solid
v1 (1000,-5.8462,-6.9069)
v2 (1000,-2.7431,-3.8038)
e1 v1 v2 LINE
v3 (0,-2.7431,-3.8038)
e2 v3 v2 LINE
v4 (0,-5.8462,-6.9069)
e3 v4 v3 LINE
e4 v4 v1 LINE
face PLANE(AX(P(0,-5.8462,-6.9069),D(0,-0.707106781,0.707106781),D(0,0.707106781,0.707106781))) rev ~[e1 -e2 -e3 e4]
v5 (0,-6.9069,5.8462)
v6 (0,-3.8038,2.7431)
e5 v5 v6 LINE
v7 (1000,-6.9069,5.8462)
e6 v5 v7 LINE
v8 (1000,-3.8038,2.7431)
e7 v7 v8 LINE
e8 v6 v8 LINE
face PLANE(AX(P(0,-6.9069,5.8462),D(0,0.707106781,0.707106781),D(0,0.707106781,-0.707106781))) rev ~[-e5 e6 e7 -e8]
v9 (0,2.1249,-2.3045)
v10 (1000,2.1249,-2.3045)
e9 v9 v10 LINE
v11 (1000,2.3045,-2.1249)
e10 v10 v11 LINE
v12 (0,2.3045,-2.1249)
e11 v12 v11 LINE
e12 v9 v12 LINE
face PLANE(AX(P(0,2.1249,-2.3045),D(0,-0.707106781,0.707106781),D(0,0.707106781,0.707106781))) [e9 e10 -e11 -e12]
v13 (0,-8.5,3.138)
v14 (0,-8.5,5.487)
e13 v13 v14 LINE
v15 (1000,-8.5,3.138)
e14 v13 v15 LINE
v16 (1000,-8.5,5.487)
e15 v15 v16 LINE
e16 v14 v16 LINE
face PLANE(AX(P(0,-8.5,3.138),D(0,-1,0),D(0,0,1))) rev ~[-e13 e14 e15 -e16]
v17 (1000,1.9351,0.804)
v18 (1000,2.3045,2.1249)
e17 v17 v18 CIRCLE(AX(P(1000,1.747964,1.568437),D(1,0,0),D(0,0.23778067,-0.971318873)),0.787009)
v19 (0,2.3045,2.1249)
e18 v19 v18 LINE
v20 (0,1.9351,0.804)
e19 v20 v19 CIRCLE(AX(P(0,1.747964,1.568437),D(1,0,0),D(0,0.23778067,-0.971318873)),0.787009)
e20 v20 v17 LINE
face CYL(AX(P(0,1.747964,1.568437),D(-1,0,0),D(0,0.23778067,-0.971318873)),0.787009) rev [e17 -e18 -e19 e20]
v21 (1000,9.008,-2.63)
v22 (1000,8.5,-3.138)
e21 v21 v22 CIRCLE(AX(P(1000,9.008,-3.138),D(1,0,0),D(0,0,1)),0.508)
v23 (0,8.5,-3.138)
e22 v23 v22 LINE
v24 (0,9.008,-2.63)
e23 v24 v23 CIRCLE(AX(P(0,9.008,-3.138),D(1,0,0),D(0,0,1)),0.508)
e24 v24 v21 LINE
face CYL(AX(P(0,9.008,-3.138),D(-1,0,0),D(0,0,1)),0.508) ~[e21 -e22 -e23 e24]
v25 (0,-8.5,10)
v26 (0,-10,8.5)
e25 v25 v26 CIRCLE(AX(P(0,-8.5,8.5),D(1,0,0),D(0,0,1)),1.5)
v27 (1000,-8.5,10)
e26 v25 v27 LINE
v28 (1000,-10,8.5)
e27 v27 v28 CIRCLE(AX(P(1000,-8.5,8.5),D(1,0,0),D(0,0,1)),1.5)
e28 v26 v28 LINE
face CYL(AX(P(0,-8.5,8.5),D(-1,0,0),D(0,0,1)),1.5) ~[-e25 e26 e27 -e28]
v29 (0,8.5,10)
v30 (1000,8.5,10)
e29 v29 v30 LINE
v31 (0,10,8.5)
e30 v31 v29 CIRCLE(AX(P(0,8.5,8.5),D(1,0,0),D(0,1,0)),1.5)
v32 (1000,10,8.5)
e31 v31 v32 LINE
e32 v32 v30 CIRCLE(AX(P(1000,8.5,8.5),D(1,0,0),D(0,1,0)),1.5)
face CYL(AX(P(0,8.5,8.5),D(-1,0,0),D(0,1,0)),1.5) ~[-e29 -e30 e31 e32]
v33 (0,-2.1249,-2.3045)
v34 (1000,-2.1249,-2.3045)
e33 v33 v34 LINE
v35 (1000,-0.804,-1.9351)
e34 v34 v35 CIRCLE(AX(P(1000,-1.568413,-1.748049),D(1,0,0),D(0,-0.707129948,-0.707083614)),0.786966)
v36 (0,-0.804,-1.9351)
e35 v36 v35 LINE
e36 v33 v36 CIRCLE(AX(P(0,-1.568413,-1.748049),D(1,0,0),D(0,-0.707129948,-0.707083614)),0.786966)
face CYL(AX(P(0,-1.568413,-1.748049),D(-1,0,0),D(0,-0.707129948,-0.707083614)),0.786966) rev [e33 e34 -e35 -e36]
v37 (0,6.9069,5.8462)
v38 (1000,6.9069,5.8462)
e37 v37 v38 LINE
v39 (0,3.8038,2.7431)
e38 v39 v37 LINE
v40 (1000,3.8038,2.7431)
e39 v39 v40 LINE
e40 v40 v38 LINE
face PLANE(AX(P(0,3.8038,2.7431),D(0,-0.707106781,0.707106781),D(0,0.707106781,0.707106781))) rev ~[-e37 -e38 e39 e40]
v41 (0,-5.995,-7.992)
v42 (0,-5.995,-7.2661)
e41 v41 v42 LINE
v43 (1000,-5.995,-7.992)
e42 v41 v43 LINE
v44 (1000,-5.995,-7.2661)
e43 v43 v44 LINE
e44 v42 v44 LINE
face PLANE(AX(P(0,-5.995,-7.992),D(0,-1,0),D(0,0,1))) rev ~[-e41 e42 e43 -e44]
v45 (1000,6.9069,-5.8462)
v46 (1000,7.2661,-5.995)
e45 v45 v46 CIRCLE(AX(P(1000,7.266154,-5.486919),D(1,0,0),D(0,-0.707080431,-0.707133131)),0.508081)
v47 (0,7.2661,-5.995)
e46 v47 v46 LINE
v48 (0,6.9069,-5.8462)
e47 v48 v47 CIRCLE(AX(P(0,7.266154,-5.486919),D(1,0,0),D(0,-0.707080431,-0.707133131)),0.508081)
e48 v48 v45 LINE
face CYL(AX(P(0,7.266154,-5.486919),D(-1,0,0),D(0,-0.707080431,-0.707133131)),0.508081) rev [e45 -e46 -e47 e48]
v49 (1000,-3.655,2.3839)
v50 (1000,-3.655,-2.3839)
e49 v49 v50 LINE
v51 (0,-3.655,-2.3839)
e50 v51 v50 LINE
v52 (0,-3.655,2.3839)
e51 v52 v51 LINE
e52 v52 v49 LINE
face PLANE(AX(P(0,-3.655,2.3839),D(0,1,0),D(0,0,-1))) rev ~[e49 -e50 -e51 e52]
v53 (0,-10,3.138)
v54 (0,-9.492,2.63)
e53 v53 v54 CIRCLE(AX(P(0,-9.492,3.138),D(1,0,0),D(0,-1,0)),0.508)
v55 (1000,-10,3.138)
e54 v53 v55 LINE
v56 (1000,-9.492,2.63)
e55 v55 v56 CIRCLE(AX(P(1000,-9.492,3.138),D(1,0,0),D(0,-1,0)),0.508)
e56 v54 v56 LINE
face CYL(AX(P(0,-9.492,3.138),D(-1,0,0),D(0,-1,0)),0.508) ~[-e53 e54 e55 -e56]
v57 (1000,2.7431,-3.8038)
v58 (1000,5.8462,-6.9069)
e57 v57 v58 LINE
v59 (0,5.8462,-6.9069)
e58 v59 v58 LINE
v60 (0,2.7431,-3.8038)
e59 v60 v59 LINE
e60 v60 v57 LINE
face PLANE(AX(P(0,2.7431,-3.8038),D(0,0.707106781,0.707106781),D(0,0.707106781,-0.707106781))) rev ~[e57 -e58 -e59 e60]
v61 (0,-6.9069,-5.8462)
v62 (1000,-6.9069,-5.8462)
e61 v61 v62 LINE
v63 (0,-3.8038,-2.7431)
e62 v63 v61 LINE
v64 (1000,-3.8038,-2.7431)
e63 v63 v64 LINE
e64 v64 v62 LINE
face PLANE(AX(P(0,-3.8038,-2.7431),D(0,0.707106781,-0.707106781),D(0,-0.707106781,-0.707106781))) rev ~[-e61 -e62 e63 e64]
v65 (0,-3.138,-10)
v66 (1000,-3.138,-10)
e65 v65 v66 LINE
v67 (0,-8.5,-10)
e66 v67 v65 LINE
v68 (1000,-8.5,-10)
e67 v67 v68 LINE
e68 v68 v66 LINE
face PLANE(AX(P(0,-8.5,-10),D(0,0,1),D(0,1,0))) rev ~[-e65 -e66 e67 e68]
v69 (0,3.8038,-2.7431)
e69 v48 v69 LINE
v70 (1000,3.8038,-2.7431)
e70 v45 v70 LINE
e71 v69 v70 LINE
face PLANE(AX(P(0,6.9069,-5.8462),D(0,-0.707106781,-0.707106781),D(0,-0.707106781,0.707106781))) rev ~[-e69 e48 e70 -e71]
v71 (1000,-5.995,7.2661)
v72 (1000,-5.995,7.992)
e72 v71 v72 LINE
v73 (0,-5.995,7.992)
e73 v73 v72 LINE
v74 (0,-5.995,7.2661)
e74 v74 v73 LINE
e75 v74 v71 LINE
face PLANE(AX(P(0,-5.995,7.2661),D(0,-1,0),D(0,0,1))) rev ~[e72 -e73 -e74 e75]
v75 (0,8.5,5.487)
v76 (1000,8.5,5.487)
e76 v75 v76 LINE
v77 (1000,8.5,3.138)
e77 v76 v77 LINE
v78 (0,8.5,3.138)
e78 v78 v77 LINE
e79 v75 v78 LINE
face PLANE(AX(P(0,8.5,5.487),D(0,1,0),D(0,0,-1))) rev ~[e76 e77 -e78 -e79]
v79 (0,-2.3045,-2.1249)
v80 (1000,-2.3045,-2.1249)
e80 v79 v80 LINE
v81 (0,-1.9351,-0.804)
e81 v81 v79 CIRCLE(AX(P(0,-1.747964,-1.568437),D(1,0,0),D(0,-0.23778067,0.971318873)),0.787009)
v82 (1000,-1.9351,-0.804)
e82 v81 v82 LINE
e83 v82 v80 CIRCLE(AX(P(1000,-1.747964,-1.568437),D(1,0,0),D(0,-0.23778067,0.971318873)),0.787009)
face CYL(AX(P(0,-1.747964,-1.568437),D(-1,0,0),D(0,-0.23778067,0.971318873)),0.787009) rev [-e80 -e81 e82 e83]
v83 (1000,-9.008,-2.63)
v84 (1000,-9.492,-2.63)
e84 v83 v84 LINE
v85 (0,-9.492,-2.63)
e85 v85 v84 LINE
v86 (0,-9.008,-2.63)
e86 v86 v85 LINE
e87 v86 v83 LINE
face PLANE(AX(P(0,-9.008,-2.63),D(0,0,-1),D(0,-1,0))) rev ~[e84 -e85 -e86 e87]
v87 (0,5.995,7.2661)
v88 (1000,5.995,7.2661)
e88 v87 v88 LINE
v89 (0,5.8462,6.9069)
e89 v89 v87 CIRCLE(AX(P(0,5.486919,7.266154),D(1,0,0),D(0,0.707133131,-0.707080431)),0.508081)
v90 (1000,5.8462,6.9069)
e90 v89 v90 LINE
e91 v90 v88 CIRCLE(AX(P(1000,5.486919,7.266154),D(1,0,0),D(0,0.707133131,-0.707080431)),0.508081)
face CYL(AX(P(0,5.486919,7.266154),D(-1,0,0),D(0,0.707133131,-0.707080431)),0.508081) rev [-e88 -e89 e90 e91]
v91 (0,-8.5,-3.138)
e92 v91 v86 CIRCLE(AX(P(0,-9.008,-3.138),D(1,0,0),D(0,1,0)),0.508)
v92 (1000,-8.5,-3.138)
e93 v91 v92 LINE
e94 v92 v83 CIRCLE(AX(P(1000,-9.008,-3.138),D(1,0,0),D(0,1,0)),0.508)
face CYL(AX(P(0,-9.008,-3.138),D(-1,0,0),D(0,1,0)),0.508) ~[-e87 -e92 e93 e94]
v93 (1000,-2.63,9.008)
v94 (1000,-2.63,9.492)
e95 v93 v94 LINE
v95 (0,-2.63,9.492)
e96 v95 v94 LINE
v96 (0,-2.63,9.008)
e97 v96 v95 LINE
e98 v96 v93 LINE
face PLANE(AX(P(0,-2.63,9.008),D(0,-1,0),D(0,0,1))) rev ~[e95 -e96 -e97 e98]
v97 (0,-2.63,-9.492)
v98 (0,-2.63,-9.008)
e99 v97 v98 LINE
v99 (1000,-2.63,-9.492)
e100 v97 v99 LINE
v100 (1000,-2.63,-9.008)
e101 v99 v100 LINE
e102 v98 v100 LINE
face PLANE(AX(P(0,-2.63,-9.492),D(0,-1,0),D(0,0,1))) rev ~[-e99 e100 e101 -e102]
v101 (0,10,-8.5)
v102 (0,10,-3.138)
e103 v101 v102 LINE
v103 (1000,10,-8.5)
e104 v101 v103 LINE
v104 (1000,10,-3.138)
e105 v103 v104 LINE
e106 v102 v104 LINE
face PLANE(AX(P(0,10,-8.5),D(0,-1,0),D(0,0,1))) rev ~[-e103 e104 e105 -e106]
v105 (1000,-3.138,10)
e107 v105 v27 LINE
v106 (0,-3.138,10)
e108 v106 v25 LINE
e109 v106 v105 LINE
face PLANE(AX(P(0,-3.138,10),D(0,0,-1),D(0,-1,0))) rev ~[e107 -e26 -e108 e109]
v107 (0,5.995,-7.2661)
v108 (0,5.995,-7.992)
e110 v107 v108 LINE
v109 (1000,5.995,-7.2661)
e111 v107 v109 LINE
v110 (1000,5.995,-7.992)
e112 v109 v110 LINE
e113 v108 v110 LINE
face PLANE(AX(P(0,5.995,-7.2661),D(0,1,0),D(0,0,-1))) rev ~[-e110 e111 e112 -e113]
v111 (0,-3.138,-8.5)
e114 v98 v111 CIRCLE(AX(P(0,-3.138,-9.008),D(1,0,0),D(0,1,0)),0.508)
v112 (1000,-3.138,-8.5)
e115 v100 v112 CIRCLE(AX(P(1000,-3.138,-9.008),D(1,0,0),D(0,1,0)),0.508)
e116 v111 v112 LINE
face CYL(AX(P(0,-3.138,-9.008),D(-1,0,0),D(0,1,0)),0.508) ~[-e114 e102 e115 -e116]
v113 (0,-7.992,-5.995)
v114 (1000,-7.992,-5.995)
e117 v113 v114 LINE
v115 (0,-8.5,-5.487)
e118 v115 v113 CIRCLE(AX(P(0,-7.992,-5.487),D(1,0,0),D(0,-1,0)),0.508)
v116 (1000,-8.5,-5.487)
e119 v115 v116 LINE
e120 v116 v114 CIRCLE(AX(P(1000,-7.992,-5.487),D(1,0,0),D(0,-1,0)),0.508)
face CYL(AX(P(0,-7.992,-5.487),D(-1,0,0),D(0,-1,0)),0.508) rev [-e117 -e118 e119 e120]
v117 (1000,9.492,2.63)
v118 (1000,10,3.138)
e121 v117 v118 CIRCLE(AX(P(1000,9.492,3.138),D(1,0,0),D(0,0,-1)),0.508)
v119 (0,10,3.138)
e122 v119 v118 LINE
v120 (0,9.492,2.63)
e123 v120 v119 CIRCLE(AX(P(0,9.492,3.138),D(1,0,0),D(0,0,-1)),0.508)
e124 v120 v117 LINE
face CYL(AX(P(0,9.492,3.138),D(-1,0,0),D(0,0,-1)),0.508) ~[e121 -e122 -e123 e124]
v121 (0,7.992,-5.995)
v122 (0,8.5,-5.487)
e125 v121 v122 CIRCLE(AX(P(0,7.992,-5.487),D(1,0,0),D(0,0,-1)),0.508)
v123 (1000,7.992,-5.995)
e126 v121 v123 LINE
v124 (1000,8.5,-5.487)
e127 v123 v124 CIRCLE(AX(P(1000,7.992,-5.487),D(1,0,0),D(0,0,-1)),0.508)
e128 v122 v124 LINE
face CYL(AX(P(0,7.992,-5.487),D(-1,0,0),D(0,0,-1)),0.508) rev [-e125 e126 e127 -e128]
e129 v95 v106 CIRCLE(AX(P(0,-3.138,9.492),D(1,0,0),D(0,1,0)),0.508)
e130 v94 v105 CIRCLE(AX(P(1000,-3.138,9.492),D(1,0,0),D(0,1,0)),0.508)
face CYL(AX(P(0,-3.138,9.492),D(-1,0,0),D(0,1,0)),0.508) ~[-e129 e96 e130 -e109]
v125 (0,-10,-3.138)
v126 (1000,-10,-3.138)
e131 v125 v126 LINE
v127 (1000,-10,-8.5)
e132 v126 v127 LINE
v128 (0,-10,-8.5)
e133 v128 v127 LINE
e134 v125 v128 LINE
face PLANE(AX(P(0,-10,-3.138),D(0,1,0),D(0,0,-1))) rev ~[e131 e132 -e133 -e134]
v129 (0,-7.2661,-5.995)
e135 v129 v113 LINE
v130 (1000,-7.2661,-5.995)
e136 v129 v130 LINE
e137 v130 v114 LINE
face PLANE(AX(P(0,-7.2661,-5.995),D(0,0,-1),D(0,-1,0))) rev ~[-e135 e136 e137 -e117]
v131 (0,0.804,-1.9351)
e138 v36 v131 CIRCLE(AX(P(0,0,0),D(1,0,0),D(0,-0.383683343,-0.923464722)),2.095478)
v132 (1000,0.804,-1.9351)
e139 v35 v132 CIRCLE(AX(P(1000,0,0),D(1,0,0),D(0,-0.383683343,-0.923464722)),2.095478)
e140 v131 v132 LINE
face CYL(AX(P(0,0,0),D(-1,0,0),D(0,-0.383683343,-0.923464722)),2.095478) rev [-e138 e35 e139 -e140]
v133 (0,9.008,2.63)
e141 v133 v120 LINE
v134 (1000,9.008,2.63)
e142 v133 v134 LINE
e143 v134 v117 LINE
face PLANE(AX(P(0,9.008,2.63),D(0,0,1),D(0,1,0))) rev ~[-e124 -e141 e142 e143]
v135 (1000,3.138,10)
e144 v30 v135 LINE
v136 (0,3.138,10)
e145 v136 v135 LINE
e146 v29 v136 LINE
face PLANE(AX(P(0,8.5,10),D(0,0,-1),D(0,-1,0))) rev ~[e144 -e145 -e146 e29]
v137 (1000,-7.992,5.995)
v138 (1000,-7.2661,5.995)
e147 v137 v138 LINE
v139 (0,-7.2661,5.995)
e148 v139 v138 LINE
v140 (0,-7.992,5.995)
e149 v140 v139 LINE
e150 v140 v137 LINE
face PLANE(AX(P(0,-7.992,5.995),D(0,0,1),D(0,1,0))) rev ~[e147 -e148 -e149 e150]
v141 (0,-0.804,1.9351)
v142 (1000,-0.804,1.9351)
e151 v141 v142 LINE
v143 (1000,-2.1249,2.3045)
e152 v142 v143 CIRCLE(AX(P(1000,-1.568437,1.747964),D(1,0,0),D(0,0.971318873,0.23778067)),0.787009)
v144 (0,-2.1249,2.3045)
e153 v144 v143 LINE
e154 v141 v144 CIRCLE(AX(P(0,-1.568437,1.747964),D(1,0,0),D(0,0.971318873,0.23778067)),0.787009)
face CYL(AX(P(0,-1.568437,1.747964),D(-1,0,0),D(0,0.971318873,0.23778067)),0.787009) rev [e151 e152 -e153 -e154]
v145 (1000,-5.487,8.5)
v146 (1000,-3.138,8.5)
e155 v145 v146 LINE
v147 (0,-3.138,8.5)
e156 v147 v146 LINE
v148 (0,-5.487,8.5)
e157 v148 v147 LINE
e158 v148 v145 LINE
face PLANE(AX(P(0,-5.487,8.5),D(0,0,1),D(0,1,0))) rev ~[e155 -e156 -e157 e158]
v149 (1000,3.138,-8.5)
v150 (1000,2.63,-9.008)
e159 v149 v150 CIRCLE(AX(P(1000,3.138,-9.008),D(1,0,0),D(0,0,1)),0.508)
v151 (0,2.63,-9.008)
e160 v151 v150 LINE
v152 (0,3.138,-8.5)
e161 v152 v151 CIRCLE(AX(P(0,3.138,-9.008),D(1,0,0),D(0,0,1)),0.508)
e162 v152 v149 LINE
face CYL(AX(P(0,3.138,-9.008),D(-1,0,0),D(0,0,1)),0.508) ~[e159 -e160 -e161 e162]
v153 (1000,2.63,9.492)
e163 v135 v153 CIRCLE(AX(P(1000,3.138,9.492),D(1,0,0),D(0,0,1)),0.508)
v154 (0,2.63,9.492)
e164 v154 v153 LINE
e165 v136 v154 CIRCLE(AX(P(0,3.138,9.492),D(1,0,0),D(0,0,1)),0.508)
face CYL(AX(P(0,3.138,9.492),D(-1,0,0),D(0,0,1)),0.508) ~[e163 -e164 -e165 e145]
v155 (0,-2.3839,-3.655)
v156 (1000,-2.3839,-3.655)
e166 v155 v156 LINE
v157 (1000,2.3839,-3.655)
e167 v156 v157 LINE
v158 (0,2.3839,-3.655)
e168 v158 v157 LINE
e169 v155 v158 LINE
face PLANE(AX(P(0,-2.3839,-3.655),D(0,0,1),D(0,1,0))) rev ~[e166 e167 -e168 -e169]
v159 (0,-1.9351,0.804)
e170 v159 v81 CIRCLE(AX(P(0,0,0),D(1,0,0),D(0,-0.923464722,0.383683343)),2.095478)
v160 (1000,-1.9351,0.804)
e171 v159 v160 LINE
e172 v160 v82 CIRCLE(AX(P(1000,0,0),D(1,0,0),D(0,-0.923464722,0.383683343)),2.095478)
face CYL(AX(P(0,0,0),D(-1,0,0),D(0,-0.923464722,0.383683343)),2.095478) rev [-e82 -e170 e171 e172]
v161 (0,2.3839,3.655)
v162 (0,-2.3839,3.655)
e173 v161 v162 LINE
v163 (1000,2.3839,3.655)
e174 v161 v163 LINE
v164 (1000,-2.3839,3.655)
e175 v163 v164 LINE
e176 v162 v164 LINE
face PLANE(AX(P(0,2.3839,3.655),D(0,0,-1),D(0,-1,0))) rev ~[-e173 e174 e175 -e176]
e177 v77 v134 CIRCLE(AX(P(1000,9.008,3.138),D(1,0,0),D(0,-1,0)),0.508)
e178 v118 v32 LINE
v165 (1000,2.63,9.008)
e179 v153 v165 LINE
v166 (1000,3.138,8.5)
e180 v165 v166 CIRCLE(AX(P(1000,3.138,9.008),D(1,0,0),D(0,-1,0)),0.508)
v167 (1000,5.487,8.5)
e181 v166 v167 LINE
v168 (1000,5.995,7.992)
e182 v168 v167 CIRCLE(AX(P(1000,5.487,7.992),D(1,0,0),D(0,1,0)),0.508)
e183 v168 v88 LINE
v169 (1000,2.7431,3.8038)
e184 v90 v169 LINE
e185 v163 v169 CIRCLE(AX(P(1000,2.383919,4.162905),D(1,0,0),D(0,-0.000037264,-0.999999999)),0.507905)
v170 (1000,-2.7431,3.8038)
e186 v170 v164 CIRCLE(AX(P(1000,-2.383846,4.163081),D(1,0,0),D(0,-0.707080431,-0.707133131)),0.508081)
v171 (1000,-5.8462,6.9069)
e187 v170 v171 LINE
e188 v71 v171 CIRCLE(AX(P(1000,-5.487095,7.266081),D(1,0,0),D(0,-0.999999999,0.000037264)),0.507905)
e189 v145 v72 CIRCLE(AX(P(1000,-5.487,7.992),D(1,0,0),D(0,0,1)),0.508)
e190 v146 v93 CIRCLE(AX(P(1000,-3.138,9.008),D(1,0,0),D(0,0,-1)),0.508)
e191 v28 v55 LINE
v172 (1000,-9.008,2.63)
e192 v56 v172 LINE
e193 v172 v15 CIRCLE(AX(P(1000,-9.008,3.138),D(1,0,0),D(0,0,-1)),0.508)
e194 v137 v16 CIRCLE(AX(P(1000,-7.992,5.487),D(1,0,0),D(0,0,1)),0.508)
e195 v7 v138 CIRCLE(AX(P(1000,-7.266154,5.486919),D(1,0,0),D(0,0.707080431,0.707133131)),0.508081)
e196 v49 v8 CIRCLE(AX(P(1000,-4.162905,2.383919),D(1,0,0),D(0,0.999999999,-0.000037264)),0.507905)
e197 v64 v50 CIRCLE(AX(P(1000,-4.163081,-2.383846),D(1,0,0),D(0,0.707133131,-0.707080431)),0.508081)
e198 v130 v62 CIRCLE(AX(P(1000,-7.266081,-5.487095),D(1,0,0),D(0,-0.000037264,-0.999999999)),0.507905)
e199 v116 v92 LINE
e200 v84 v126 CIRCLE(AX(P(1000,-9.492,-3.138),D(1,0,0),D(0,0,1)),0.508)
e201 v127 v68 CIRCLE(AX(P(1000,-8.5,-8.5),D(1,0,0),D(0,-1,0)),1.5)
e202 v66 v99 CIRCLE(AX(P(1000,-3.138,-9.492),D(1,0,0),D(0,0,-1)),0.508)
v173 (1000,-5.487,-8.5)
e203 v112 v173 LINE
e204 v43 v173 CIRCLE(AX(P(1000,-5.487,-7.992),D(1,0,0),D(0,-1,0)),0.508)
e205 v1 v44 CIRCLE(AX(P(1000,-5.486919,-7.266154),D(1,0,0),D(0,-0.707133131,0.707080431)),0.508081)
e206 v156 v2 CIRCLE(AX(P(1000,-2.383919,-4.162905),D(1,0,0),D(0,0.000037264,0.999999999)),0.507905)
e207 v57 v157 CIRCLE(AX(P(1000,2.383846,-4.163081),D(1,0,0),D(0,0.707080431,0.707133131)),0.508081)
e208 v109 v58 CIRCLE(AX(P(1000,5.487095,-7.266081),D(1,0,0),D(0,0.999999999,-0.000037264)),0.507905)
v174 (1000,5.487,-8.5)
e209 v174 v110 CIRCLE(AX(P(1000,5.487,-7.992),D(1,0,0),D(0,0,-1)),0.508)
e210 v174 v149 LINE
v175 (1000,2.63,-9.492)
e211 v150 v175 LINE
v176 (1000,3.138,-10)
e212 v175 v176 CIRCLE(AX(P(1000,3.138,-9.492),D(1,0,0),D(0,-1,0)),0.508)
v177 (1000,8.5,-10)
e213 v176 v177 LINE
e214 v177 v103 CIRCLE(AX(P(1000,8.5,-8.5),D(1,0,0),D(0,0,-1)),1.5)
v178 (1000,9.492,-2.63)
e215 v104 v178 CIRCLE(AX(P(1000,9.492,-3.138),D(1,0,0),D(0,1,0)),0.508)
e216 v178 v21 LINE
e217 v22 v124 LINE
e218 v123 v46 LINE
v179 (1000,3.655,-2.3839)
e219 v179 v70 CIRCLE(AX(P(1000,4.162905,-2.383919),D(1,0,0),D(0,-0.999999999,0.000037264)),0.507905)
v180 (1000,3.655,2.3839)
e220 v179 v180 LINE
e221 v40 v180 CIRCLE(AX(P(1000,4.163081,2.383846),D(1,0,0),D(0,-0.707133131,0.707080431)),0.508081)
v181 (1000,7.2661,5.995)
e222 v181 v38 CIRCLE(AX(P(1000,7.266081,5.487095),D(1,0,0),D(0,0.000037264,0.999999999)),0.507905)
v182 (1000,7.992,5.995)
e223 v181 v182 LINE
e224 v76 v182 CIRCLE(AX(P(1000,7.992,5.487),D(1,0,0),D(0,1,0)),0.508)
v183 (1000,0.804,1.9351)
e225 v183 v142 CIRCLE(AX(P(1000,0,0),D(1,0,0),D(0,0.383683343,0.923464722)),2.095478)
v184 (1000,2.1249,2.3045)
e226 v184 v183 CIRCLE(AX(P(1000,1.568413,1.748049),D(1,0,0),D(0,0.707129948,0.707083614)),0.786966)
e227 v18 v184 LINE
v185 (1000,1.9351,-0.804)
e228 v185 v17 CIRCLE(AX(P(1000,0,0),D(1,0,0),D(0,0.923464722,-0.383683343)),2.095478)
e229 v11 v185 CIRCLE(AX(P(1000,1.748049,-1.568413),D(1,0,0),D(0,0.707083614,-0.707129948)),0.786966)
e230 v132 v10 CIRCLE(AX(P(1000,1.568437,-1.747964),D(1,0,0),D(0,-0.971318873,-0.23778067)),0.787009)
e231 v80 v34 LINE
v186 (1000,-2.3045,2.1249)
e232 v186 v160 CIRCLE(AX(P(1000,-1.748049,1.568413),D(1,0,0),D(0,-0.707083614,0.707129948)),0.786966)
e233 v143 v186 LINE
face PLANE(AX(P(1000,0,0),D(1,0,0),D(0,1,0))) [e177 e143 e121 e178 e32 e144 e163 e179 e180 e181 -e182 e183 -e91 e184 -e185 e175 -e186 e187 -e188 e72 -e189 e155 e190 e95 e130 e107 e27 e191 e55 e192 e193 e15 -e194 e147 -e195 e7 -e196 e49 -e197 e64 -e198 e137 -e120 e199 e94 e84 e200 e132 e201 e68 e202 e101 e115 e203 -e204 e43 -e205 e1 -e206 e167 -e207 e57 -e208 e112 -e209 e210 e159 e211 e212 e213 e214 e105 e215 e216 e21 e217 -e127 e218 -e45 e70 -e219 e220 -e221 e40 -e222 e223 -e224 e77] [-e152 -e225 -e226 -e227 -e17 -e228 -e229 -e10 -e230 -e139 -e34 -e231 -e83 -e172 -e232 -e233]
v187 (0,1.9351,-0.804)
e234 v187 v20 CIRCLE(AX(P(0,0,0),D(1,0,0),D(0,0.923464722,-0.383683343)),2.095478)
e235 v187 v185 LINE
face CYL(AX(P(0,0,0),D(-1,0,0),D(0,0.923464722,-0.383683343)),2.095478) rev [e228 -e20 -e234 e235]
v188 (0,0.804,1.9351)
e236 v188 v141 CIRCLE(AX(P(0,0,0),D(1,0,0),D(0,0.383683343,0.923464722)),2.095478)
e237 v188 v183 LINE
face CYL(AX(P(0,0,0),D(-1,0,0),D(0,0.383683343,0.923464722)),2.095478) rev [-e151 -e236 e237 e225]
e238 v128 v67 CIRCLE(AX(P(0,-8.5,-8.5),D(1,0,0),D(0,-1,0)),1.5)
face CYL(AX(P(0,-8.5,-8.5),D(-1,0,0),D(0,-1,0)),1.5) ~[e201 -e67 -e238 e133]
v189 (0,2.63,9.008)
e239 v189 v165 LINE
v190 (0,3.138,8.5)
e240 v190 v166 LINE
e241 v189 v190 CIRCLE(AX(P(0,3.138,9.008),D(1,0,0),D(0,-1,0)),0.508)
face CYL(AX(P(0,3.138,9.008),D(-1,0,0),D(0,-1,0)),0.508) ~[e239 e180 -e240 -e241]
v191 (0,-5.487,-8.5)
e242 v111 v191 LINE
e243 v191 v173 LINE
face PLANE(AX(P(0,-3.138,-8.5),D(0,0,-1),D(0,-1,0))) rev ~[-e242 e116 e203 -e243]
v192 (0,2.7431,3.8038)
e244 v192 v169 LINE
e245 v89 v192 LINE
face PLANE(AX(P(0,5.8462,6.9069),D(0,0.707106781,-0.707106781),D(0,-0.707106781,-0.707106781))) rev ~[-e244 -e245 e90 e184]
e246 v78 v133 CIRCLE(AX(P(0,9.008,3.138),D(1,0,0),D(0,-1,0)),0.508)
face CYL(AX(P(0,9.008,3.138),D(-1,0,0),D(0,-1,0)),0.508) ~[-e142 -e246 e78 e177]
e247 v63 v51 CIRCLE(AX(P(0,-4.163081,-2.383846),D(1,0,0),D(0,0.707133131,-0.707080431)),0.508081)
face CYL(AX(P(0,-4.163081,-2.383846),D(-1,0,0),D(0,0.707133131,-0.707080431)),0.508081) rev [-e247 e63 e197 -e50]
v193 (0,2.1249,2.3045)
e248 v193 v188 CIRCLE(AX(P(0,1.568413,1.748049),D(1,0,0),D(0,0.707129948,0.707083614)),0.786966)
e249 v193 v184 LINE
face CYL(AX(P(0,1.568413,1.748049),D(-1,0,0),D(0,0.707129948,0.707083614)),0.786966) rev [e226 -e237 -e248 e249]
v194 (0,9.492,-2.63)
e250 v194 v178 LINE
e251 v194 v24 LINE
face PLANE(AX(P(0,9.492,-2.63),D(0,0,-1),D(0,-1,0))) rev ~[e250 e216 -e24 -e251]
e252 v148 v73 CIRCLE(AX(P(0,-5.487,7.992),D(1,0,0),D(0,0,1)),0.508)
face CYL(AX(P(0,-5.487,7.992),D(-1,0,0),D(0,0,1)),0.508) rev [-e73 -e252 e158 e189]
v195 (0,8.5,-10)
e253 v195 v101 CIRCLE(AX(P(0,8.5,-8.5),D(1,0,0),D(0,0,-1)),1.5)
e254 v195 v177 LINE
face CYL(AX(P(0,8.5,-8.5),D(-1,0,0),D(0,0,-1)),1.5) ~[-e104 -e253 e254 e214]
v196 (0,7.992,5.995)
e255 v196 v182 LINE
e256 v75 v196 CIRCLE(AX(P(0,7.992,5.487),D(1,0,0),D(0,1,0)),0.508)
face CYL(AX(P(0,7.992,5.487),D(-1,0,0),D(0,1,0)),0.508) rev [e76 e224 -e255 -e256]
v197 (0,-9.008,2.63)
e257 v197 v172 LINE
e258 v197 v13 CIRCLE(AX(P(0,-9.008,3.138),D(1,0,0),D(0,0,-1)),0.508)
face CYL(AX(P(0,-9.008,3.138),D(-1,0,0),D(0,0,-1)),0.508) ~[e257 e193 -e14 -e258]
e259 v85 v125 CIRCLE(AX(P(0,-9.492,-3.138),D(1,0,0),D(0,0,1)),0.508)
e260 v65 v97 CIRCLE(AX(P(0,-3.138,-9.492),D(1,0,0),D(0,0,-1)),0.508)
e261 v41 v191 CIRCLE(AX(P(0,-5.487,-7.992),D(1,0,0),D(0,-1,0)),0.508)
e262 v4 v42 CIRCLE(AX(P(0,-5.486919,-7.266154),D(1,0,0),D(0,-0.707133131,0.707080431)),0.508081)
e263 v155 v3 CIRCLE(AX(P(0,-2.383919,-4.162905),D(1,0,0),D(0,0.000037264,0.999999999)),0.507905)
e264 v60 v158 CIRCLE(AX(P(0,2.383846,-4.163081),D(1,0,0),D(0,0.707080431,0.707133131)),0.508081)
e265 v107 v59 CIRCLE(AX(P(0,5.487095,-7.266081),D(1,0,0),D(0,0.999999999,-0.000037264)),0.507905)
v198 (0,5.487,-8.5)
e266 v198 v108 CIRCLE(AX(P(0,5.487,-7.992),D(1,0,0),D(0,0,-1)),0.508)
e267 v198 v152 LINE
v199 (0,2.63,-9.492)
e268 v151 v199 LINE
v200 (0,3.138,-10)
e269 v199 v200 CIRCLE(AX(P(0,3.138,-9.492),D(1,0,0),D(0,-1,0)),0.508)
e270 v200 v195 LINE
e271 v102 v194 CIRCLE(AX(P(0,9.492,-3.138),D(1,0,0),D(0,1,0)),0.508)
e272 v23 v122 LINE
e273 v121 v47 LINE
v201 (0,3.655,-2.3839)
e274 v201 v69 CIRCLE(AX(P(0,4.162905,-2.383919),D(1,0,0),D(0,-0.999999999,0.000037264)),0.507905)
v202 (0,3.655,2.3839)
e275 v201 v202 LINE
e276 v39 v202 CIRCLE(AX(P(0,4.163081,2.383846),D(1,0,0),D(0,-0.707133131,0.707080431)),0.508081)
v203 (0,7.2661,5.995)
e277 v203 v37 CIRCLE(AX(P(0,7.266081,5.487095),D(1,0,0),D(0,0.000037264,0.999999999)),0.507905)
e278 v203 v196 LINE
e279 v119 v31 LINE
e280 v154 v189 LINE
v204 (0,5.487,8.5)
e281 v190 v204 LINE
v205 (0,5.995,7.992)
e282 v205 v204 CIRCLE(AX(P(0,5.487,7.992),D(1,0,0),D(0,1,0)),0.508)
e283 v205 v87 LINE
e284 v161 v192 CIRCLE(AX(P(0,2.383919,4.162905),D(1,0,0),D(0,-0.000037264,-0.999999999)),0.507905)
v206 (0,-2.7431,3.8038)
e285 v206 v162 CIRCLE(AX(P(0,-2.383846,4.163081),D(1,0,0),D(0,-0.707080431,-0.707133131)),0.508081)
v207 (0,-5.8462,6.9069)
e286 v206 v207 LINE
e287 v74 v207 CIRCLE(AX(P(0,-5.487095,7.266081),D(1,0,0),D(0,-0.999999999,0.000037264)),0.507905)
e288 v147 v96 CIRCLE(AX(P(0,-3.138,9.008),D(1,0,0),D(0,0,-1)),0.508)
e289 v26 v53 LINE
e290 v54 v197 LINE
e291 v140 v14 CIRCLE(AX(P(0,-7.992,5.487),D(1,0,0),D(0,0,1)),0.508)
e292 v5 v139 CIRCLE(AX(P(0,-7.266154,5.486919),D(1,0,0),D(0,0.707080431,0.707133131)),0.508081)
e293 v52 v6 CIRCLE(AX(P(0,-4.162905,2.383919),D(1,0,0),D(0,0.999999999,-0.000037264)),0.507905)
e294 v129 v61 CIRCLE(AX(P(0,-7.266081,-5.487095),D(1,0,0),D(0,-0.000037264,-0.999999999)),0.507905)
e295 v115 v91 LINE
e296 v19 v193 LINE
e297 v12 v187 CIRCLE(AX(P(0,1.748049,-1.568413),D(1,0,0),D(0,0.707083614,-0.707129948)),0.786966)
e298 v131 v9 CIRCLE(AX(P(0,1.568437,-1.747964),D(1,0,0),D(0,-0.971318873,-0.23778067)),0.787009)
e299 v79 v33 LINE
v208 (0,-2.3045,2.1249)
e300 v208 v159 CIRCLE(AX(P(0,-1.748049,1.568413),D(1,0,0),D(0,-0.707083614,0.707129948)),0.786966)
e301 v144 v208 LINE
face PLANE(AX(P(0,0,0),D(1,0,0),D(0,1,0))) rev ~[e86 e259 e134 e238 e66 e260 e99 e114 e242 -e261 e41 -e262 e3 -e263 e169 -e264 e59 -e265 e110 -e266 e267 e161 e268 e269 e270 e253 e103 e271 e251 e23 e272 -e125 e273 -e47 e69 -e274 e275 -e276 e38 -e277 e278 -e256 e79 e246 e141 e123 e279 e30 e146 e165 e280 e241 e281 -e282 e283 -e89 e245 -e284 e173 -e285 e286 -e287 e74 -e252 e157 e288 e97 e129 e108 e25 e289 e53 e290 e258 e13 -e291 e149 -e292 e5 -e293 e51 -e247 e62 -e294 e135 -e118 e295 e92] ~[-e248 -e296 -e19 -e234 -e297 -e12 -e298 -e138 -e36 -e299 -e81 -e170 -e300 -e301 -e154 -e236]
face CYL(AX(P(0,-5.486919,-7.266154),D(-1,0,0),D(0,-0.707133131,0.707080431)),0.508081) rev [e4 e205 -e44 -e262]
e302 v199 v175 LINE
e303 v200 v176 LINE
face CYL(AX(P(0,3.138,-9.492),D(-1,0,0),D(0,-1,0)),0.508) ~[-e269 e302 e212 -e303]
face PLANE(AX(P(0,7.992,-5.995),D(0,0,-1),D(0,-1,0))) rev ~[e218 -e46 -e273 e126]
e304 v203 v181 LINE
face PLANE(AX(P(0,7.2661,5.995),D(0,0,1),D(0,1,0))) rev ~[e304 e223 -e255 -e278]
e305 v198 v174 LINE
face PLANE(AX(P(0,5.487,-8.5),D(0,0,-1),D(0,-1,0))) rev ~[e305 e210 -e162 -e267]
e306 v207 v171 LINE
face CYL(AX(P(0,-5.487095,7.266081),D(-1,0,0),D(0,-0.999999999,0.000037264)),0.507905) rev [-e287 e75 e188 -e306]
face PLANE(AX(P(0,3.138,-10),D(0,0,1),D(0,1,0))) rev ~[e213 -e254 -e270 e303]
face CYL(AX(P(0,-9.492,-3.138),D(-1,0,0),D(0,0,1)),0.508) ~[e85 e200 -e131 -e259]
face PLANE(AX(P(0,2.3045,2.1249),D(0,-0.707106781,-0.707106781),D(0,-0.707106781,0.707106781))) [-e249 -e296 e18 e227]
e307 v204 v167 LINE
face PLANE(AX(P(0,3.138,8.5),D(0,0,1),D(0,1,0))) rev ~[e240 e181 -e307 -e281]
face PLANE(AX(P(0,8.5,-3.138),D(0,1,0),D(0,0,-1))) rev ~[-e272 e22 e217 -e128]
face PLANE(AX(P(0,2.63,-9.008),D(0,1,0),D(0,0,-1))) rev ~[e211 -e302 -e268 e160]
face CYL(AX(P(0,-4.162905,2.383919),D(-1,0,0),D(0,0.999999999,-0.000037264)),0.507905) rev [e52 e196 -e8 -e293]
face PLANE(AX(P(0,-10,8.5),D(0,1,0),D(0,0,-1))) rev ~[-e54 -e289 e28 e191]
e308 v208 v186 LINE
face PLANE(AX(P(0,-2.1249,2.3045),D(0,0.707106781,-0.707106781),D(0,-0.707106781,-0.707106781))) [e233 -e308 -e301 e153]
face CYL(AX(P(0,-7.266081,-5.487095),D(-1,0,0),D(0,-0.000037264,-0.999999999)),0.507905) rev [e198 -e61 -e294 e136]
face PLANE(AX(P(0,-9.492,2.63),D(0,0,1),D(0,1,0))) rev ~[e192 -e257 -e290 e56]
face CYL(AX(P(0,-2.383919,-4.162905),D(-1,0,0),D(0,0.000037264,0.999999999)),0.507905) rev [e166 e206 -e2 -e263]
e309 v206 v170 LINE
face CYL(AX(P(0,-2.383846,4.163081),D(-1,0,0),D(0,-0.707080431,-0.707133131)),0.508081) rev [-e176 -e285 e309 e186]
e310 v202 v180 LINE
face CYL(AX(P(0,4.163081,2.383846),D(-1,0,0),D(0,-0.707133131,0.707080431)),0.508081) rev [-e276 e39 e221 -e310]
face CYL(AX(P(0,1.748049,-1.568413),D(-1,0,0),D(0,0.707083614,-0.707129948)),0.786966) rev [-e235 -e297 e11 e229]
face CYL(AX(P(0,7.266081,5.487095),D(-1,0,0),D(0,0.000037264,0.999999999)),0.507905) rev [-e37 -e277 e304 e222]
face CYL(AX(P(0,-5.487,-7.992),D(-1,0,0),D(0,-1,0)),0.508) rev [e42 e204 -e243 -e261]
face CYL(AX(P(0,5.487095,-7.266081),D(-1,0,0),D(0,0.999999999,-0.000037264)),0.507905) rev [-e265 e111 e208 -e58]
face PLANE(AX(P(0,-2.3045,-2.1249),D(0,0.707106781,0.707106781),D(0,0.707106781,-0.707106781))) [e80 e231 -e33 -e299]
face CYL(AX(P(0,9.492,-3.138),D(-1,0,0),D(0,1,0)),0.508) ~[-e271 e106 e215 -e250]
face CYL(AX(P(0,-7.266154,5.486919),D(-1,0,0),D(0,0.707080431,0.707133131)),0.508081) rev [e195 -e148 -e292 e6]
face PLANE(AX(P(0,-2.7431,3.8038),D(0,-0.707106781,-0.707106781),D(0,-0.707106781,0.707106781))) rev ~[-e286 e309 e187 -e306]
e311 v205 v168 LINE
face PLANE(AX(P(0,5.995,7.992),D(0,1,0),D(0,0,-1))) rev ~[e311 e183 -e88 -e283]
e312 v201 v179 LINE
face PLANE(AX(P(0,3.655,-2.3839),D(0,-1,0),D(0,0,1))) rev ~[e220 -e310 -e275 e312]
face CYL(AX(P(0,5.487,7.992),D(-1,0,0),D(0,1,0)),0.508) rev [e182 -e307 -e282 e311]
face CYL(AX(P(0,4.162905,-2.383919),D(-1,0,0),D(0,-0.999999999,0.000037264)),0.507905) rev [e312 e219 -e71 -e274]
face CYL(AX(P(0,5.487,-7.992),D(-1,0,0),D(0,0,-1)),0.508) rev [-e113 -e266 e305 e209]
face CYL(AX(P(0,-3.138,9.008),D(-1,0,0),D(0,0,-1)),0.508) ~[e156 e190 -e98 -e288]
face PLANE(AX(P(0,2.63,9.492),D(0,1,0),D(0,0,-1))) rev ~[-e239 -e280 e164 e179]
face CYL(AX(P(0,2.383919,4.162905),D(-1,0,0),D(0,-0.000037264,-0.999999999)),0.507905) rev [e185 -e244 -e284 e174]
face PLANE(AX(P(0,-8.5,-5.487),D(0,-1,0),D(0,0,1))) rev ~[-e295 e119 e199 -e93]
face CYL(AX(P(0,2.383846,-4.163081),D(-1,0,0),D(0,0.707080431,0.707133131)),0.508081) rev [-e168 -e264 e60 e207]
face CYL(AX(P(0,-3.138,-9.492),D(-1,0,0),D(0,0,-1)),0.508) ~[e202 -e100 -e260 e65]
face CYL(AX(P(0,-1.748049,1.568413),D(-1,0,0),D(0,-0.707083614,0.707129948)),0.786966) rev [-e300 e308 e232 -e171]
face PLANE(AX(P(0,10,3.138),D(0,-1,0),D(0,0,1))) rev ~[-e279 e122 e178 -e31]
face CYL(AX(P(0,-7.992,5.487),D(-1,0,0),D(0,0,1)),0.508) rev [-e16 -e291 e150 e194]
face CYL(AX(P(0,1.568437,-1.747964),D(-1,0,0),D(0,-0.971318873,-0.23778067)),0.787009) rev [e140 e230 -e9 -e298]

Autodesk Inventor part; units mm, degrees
ref_plane "YZ Plane" through (0, 0, 0) normal (1, 0, 0) x (0, 1, 0)
ref_plane "XZ Plane" through (0, 0, 0) normal (0, 1, 0) x (-1, 0, 0)
ref_plane "XY Plane" through (0, 0, 0) normal (0, 0, 1) x (1, 0, 0)
sketch "Sketch1" plane through (0, 0, 0) normal (1, 0, 0) x (0, 1, 0)
  arc A0 (0.804, -1.9351) -> (2.1249, -2.3045) centre (1.5684, -1.748) ccw
  line L0 (2.1249, -2.3045) -> (2.3045, -2.1249)
  arc A1 (2.3045, -2.1249) -> (1.9351, -0.804) centre (1.748, -1.5684) ccw
  arc A2 (1.9351, -0.804) -> (1.9351, 0.804) centre (0, 0) ccw
  arc A3 (1.9351, 0.804) -> (2.3045, 2.1249) centre (1.748, 1.5684) ccw
  line L1 (2.3045, 2.1249) -> (2.1249, 2.3045)
  arc A4 (2.1249, 2.3045) -> (0.804, 1.9351) centre (1.5684, 1.748) ccw
  arc A5 (0.804, 1.9351) -> (-0.804, 1.9351) centre (0, 0) ccw
  arc A6 (-0.804, 1.9351) -> (-2.1249, 2.3045) centre (-1.5684, 1.748) ccw
  line L2 (-2.1249, 2.3045) -> (-2.3045, 2.1249)
  arc A7 (-2.3045, 2.1249) -> (-1.9351, 0.804) centre (-1.748, 1.5684) ccw
  arc A8 (-1.9351, 0.804) -> (-1.9351, -0.804) centre (0, 0) ccw
  arc A9 (-1.9351, -0.804) -> (-2.3045, -2.1249) centre (-1.748, -1.5684) ccw
  line L3 (-2.3045, -2.1249) -> (-2.1249, -2.3045)
  arc A10 (-2.1249, -2.3045) -> (-0.804, -1.9351) centre (-1.5684, -1.748) ccw
  arc A11 (-0.804, -1.9351) -> (0.804, -1.9351) centre (0, 0) ccw
  line L4 (9.008, 2.63) -> (9.492, 2.63)
  arc A12 (8.5, 3.138) -> (9.008, 2.63) centre (9.008, 3.138) ccw
  line L5 (8.5, 5.487) -> (8.5, 3.138)
  arc A13 (8.5, 5.487) -> (7.992, 5.995) centre (7.992, 5.487) ccw
  line L6 (7.2661, 5.995) -> (7.992, 5.995)
  arc A14 (7.2661, 5.995) -> (6.9069, 5.8462) centre (7.2661, 5.487) ccw
  line L7 (3.8038, 2.7431) -> (6.9069, 5.8462)
  arc A15 (3.8038, 2.7431) -> (3.655, 2.3839) centre (4.163, 2.3839) ccw
  line L8 (3.655, -2.3839) -> (3.655, 2.3839)
  arc A16 (3.655, -2.3839) -> (3.8038, -2.7431) centre (4.163, -2.3839) ccw
  line L9 (6.9069, -5.8462) -> (3.8038, -2.7431)
  arc A17 (6.9069, -5.8462) -> (7.2661, -5.995) centre (7.2661, -5.487) ccw
  line L10 (7.992, -5.995) -> (7.2661, -5.995)
  arc A18 (7.992, -5.995) -> (8.5, -5.487) centre (7.992, -5.487) ccw
  line L11 (8.5, -3.138) -> (8.5, -5.487)
  arc A19 (9.008, -2.63) -> (8.5, -3.138) centre (9.008, -3.138) ccw
  line L12 (9.492, -2.63) -> (9.008, -2.63)
  arc A20 (10, -3.138) -> (9.492, -2.63) centre (9.492, -3.138) ccw
  line L13 (10, -8.5) -> (10, -3.138)
  arc A21 (8.5, -10) -> (10, -8.5) centre (8.5, -8.5) ccw
  line L14 (3.138, -10) -> (8.5, -10)
  arc A22 (2.63, -9.492) -> (3.138, -10) centre (3.138, -9.492) ccw
  line L15 (2.63, -9.008) -> (2.63, -9.492)
  arc A23 (3.138, -8.5) -> (2.63, -9.008) centre (3.138, -9.008) ccw
  line L16 (5.487, -8.5) -> (3.138, -8.5)
  arc A24 (5.487, -8.5) -> (5.995, -7.992) centre (5.487, -7.992) ccw
  line L17 (5.995, -7.2661) -> (5.995, -7.992)
  arc A25 (5.995, -7.2661) -> (5.8462, -6.9069) centre (5.487, -7.2661) ccw
  line L18 (2.7431, -3.8038) -> (5.8462, -6.9069)
  arc A26 (2.7431, -3.8038) -> (2.3839, -3.655) centre (2.3839, -4.163) ccw
  line L19 (-2.3839, -3.655) -> (2.3839, -3.655)
  arc A27 (-2.3839, -3.655) -> (-2.7431, -3.8038) centre (-2.3839, -4.163) ccw
  line L20 (-5.8462, -6.9069) -> (-2.7431, -3.8038)
  arc A28 (-5.8462, -6.9069) -> (-5.995, -7.2661) centre (-5.487, -7.2661) ccw
  line L21 (-5.995, -7.992) -> (-5.995, -7.2661)
  arc A29 (-5.995, -7.992) -> (-5.487, -8.5) centre (-5.487, -7.992) ccw
  line L22 (-3.138, -8.5) -> (-5.487, -8.5)
  arc A30 (-2.63, -9.008) -> (-3.138, -8.5) centre (-3.138, -9.008) ccw
  line L23 (-2.63, -9.492) -> (-2.63, -9.008)
  arc A31 (-3.138, -10) -> (-2.63, -9.492) centre (-3.138, -9.492) ccw
  line L24 (-8.5, -10) -> (-3.138, -10)
  arc A32 (-10, -8.5) -> (-8.5, -10) centre (-8.5, -8.5) ccw
  line L25 (-10, -3.138) -> (-10, -8.5)
  arc A33 (-9.492, -2.63) -> (-10, -3.138) centre (-9.492, -3.138) ccw
  line L26 (-9.008, -2.63) -> (-9.492, -2.63)
  arc A34 (-8.5, -3.138) -> (-9.008, -2.63) centre (-9.008, -3.138) ccw
  line L27 (-8.5, -5.487) -> (-8.5, -3.138)
  arc A35 (-8.5, -5.487) -> (-7.992, -5.995) centre (-7.992, -5.487) ccw
  line L28 (-7.2661, -5.995) -> (-7.992, -5.995)
  arc A36 (-7.2661, -5.995) -> (-6.9069, -5.8462) centre (-7.2661, -5.487) ccw
  line L29 (-3.8038, -2.7431) -> (-6.9069, -5.8462)
  arc A37 (-3.8038, -2.7431) -> (-3.655, -2.3839) centre (-4.163, -2.3839) ccw
  line L30 (-3.655, 2.3839) -> (-3.655, -2.3839)
  arc A38 (-3.655, 2.3839) -> (-3.8038, 2.7431) centre (-4.163, 2.3839) ccw
  line L31 (-6.9069, 5.8462) -> (-3.8038, 2.7431)
  arc A39 (-6.9069, 5.8462) -> (-7.2661, 5.995) centre (-7.2661, 5.487) ccw
  line L32 (-7.992, 5.995) -> (-7.2661, 5.995)
  arc A40 (-7.992, 5.995) -> (-8.5, 5.487) centre (-7.992, 5.487) ccw
  line L33 (-8.5, 3.138) -> (-8.5, 5.487)
  arc A41 (-9.008, 2.63) -> (-8.5, 3.138) centre (-9.008, 3.138) ccw
  line L34 (-9.492, 2.63) -> (-9.008, 2.63)
  arc A42 (-10, 3.138) -> (-9.492, 2.63) centre (-9.492, 3.138) ccw
  line L35 (-10, 8.5) -> (-10, 3.138)
  arc A43 (-8.5, 10) -> (-10, 8.5) centre (-8.5, 8.5) ccw
  line L36 (-3.138, 10) -> (-8.5, 10)
  arc A44 (-2.63, 9.492) -> (-3.138, 10) centre (-3.138, 9.492) ccw
  line L37 (-2.63, 9.008) -> (-2.63, 9.492)
  arc A45 (-3.138, 8.5) -> (-2.63, 9.008) centre (-3.138, 9.008) ccw
  line L38 (-5.487, 8.5) -> (-3.138, 8.5)
  arc A46 (-5.487, 8.5) -> (-5.995, 7.992) centre (-5.487, 7.992) ccw
  line L39 (-5.995, 7.2661) -> (-5.995, 7.992)
  arc A47 (-5.995, 7.2661) -> (-5.8462, 6.9069) centre (-5.487, 7.2661) ccw
  line L40 (-2.7431, 3.8038) -> (-5.8462, 6.9069)
  arc A48 (-2.7431, 3.8038) -> (-2.3839, 3.655) centre (-2.3839, 4.163) ccw
  line L41 (2.3839, 3.655) -> (-2.3839, 3.655)
  arc A49 (2.3839, 3.655) -> (2.7431, 3.8038) centre (2.3839, 4.163) ccw
  line L42 (5.8462, 6.9069) -> (2.7431, 3.8038)
  arc A50 (5.8462, 6.9069) -> (5.995, 7.2661) centre (5.487, 7.2661) ccw
  line L43 (5.995, 7.992) -> (5.995, 7.2661)
  arc A51 (5.995, 7.992) -> (5.487, 8.5) centre (5.487, 7.992) ccw
  line L44 (3.138, 8.5) -> (5.487, 8.5)
  arc A52 (2.63, 9.008) -> (3.138, 8.5) centre (3.138, 9.008) ccw
  line L45 (2.63, 9.492) -> (2.63, 9.008)
  arc A53 (3.138, 10) -> (2.63, 9.492) centre (3.138, 9.492) ccw
  line L46 (8.5, 10) -> (3.138, 10)
  arc A54 (10, 8.5) -> (8.5, 10) centre (8.5, 8.5) ccw
  line L47 (10, 3.138) -> (10, 8.5)
  arc A55 (9.492, 2.63) -> (10, 3.138) centre (9.492, 3.138) ccw
  point P0 (0.804, -1.9351)
  point P1 (-0.804, -1.9351)
  point P2 (-2.3045, -2.1249)
  point P3 (-1.9351, -0.804)
  point P4 (-1.9351, 0.804)
  point P5 (-2.1249, 2.3045)
  point P6 (-0.804, 1.9351)
  point P7 (0.804, 1.9351)
  point P8 (2.3045, 2.1249)
  point P9 (1.9351, 0.804)
  point P10 (1.9351, -0.804)
  point P11 (2.1249, -2.3045)
  point P12 (8.5, 3.138)
  point P13 (10, 8.5)
  point P14 (3.138, 10)
  point P15 (2.63, 9.008)
  point P16 (5.487, 8.5)
  point P17 (5.995, 7.2661)
  point P18 (2.7431, 3.8038)
  point P19 (-2.3839, 3.655)
  point P20 (-5.8462, 6.9069)
  point P21 (-5.995, 7.992)
  point P22 (-3.138, 8.5)
  point P23 (-2.63, 9.492)
  point P24 (-8.5, 10)
  point P25 (-10, 3.138)
  point P26 (-9.008, 2.63)
  point P27 (-8.5, 5.487)
  point P28 (-7.2661, 5.995)
  point P29 (-3.8038, 2.7431)
  point P30 (-3.655, -2.3839)
  point P31 (-6.9069, -5.8462)
  point P32 (-7.992, -5.995)
  point P33 (-8.5, -3.138)
  point P34 (-9.492, -2.63)
  point P35 (-10, -8.5)
  point P36 (-3.138, -10)
  point P37 (-2.63, -9.008)
  point P38 (-5.487, -8.5)
  point P39 (-5.995, -7.2661)
  point P40 (-2.7431, -3.8038)
  point P41 (2.3839, -3.655)
  point P42 (5.8462, -6.9069)
  point P43 (5.995, -7.992)
  point P44 (3.138, -8.5)
  point P45 (2.63, -9.492)
  point P46 (8.5, -10)
  point P47 (10, -3.138)
  point P48 (9.008, -2.63)
  point P49 (8.5, -5.487)
  point P50 (7.2661, -5.995)
  point P51 (3.8038, -2.7431)
  point P52 (3.655, 2.3839)
  point P53 (6.9069, 5.8462)
  point P54 (7.992, 5.995)
extrude "Extrusion1" add sketch "Sketch1" along normal blind 1000
properties part number "2020_1100"
